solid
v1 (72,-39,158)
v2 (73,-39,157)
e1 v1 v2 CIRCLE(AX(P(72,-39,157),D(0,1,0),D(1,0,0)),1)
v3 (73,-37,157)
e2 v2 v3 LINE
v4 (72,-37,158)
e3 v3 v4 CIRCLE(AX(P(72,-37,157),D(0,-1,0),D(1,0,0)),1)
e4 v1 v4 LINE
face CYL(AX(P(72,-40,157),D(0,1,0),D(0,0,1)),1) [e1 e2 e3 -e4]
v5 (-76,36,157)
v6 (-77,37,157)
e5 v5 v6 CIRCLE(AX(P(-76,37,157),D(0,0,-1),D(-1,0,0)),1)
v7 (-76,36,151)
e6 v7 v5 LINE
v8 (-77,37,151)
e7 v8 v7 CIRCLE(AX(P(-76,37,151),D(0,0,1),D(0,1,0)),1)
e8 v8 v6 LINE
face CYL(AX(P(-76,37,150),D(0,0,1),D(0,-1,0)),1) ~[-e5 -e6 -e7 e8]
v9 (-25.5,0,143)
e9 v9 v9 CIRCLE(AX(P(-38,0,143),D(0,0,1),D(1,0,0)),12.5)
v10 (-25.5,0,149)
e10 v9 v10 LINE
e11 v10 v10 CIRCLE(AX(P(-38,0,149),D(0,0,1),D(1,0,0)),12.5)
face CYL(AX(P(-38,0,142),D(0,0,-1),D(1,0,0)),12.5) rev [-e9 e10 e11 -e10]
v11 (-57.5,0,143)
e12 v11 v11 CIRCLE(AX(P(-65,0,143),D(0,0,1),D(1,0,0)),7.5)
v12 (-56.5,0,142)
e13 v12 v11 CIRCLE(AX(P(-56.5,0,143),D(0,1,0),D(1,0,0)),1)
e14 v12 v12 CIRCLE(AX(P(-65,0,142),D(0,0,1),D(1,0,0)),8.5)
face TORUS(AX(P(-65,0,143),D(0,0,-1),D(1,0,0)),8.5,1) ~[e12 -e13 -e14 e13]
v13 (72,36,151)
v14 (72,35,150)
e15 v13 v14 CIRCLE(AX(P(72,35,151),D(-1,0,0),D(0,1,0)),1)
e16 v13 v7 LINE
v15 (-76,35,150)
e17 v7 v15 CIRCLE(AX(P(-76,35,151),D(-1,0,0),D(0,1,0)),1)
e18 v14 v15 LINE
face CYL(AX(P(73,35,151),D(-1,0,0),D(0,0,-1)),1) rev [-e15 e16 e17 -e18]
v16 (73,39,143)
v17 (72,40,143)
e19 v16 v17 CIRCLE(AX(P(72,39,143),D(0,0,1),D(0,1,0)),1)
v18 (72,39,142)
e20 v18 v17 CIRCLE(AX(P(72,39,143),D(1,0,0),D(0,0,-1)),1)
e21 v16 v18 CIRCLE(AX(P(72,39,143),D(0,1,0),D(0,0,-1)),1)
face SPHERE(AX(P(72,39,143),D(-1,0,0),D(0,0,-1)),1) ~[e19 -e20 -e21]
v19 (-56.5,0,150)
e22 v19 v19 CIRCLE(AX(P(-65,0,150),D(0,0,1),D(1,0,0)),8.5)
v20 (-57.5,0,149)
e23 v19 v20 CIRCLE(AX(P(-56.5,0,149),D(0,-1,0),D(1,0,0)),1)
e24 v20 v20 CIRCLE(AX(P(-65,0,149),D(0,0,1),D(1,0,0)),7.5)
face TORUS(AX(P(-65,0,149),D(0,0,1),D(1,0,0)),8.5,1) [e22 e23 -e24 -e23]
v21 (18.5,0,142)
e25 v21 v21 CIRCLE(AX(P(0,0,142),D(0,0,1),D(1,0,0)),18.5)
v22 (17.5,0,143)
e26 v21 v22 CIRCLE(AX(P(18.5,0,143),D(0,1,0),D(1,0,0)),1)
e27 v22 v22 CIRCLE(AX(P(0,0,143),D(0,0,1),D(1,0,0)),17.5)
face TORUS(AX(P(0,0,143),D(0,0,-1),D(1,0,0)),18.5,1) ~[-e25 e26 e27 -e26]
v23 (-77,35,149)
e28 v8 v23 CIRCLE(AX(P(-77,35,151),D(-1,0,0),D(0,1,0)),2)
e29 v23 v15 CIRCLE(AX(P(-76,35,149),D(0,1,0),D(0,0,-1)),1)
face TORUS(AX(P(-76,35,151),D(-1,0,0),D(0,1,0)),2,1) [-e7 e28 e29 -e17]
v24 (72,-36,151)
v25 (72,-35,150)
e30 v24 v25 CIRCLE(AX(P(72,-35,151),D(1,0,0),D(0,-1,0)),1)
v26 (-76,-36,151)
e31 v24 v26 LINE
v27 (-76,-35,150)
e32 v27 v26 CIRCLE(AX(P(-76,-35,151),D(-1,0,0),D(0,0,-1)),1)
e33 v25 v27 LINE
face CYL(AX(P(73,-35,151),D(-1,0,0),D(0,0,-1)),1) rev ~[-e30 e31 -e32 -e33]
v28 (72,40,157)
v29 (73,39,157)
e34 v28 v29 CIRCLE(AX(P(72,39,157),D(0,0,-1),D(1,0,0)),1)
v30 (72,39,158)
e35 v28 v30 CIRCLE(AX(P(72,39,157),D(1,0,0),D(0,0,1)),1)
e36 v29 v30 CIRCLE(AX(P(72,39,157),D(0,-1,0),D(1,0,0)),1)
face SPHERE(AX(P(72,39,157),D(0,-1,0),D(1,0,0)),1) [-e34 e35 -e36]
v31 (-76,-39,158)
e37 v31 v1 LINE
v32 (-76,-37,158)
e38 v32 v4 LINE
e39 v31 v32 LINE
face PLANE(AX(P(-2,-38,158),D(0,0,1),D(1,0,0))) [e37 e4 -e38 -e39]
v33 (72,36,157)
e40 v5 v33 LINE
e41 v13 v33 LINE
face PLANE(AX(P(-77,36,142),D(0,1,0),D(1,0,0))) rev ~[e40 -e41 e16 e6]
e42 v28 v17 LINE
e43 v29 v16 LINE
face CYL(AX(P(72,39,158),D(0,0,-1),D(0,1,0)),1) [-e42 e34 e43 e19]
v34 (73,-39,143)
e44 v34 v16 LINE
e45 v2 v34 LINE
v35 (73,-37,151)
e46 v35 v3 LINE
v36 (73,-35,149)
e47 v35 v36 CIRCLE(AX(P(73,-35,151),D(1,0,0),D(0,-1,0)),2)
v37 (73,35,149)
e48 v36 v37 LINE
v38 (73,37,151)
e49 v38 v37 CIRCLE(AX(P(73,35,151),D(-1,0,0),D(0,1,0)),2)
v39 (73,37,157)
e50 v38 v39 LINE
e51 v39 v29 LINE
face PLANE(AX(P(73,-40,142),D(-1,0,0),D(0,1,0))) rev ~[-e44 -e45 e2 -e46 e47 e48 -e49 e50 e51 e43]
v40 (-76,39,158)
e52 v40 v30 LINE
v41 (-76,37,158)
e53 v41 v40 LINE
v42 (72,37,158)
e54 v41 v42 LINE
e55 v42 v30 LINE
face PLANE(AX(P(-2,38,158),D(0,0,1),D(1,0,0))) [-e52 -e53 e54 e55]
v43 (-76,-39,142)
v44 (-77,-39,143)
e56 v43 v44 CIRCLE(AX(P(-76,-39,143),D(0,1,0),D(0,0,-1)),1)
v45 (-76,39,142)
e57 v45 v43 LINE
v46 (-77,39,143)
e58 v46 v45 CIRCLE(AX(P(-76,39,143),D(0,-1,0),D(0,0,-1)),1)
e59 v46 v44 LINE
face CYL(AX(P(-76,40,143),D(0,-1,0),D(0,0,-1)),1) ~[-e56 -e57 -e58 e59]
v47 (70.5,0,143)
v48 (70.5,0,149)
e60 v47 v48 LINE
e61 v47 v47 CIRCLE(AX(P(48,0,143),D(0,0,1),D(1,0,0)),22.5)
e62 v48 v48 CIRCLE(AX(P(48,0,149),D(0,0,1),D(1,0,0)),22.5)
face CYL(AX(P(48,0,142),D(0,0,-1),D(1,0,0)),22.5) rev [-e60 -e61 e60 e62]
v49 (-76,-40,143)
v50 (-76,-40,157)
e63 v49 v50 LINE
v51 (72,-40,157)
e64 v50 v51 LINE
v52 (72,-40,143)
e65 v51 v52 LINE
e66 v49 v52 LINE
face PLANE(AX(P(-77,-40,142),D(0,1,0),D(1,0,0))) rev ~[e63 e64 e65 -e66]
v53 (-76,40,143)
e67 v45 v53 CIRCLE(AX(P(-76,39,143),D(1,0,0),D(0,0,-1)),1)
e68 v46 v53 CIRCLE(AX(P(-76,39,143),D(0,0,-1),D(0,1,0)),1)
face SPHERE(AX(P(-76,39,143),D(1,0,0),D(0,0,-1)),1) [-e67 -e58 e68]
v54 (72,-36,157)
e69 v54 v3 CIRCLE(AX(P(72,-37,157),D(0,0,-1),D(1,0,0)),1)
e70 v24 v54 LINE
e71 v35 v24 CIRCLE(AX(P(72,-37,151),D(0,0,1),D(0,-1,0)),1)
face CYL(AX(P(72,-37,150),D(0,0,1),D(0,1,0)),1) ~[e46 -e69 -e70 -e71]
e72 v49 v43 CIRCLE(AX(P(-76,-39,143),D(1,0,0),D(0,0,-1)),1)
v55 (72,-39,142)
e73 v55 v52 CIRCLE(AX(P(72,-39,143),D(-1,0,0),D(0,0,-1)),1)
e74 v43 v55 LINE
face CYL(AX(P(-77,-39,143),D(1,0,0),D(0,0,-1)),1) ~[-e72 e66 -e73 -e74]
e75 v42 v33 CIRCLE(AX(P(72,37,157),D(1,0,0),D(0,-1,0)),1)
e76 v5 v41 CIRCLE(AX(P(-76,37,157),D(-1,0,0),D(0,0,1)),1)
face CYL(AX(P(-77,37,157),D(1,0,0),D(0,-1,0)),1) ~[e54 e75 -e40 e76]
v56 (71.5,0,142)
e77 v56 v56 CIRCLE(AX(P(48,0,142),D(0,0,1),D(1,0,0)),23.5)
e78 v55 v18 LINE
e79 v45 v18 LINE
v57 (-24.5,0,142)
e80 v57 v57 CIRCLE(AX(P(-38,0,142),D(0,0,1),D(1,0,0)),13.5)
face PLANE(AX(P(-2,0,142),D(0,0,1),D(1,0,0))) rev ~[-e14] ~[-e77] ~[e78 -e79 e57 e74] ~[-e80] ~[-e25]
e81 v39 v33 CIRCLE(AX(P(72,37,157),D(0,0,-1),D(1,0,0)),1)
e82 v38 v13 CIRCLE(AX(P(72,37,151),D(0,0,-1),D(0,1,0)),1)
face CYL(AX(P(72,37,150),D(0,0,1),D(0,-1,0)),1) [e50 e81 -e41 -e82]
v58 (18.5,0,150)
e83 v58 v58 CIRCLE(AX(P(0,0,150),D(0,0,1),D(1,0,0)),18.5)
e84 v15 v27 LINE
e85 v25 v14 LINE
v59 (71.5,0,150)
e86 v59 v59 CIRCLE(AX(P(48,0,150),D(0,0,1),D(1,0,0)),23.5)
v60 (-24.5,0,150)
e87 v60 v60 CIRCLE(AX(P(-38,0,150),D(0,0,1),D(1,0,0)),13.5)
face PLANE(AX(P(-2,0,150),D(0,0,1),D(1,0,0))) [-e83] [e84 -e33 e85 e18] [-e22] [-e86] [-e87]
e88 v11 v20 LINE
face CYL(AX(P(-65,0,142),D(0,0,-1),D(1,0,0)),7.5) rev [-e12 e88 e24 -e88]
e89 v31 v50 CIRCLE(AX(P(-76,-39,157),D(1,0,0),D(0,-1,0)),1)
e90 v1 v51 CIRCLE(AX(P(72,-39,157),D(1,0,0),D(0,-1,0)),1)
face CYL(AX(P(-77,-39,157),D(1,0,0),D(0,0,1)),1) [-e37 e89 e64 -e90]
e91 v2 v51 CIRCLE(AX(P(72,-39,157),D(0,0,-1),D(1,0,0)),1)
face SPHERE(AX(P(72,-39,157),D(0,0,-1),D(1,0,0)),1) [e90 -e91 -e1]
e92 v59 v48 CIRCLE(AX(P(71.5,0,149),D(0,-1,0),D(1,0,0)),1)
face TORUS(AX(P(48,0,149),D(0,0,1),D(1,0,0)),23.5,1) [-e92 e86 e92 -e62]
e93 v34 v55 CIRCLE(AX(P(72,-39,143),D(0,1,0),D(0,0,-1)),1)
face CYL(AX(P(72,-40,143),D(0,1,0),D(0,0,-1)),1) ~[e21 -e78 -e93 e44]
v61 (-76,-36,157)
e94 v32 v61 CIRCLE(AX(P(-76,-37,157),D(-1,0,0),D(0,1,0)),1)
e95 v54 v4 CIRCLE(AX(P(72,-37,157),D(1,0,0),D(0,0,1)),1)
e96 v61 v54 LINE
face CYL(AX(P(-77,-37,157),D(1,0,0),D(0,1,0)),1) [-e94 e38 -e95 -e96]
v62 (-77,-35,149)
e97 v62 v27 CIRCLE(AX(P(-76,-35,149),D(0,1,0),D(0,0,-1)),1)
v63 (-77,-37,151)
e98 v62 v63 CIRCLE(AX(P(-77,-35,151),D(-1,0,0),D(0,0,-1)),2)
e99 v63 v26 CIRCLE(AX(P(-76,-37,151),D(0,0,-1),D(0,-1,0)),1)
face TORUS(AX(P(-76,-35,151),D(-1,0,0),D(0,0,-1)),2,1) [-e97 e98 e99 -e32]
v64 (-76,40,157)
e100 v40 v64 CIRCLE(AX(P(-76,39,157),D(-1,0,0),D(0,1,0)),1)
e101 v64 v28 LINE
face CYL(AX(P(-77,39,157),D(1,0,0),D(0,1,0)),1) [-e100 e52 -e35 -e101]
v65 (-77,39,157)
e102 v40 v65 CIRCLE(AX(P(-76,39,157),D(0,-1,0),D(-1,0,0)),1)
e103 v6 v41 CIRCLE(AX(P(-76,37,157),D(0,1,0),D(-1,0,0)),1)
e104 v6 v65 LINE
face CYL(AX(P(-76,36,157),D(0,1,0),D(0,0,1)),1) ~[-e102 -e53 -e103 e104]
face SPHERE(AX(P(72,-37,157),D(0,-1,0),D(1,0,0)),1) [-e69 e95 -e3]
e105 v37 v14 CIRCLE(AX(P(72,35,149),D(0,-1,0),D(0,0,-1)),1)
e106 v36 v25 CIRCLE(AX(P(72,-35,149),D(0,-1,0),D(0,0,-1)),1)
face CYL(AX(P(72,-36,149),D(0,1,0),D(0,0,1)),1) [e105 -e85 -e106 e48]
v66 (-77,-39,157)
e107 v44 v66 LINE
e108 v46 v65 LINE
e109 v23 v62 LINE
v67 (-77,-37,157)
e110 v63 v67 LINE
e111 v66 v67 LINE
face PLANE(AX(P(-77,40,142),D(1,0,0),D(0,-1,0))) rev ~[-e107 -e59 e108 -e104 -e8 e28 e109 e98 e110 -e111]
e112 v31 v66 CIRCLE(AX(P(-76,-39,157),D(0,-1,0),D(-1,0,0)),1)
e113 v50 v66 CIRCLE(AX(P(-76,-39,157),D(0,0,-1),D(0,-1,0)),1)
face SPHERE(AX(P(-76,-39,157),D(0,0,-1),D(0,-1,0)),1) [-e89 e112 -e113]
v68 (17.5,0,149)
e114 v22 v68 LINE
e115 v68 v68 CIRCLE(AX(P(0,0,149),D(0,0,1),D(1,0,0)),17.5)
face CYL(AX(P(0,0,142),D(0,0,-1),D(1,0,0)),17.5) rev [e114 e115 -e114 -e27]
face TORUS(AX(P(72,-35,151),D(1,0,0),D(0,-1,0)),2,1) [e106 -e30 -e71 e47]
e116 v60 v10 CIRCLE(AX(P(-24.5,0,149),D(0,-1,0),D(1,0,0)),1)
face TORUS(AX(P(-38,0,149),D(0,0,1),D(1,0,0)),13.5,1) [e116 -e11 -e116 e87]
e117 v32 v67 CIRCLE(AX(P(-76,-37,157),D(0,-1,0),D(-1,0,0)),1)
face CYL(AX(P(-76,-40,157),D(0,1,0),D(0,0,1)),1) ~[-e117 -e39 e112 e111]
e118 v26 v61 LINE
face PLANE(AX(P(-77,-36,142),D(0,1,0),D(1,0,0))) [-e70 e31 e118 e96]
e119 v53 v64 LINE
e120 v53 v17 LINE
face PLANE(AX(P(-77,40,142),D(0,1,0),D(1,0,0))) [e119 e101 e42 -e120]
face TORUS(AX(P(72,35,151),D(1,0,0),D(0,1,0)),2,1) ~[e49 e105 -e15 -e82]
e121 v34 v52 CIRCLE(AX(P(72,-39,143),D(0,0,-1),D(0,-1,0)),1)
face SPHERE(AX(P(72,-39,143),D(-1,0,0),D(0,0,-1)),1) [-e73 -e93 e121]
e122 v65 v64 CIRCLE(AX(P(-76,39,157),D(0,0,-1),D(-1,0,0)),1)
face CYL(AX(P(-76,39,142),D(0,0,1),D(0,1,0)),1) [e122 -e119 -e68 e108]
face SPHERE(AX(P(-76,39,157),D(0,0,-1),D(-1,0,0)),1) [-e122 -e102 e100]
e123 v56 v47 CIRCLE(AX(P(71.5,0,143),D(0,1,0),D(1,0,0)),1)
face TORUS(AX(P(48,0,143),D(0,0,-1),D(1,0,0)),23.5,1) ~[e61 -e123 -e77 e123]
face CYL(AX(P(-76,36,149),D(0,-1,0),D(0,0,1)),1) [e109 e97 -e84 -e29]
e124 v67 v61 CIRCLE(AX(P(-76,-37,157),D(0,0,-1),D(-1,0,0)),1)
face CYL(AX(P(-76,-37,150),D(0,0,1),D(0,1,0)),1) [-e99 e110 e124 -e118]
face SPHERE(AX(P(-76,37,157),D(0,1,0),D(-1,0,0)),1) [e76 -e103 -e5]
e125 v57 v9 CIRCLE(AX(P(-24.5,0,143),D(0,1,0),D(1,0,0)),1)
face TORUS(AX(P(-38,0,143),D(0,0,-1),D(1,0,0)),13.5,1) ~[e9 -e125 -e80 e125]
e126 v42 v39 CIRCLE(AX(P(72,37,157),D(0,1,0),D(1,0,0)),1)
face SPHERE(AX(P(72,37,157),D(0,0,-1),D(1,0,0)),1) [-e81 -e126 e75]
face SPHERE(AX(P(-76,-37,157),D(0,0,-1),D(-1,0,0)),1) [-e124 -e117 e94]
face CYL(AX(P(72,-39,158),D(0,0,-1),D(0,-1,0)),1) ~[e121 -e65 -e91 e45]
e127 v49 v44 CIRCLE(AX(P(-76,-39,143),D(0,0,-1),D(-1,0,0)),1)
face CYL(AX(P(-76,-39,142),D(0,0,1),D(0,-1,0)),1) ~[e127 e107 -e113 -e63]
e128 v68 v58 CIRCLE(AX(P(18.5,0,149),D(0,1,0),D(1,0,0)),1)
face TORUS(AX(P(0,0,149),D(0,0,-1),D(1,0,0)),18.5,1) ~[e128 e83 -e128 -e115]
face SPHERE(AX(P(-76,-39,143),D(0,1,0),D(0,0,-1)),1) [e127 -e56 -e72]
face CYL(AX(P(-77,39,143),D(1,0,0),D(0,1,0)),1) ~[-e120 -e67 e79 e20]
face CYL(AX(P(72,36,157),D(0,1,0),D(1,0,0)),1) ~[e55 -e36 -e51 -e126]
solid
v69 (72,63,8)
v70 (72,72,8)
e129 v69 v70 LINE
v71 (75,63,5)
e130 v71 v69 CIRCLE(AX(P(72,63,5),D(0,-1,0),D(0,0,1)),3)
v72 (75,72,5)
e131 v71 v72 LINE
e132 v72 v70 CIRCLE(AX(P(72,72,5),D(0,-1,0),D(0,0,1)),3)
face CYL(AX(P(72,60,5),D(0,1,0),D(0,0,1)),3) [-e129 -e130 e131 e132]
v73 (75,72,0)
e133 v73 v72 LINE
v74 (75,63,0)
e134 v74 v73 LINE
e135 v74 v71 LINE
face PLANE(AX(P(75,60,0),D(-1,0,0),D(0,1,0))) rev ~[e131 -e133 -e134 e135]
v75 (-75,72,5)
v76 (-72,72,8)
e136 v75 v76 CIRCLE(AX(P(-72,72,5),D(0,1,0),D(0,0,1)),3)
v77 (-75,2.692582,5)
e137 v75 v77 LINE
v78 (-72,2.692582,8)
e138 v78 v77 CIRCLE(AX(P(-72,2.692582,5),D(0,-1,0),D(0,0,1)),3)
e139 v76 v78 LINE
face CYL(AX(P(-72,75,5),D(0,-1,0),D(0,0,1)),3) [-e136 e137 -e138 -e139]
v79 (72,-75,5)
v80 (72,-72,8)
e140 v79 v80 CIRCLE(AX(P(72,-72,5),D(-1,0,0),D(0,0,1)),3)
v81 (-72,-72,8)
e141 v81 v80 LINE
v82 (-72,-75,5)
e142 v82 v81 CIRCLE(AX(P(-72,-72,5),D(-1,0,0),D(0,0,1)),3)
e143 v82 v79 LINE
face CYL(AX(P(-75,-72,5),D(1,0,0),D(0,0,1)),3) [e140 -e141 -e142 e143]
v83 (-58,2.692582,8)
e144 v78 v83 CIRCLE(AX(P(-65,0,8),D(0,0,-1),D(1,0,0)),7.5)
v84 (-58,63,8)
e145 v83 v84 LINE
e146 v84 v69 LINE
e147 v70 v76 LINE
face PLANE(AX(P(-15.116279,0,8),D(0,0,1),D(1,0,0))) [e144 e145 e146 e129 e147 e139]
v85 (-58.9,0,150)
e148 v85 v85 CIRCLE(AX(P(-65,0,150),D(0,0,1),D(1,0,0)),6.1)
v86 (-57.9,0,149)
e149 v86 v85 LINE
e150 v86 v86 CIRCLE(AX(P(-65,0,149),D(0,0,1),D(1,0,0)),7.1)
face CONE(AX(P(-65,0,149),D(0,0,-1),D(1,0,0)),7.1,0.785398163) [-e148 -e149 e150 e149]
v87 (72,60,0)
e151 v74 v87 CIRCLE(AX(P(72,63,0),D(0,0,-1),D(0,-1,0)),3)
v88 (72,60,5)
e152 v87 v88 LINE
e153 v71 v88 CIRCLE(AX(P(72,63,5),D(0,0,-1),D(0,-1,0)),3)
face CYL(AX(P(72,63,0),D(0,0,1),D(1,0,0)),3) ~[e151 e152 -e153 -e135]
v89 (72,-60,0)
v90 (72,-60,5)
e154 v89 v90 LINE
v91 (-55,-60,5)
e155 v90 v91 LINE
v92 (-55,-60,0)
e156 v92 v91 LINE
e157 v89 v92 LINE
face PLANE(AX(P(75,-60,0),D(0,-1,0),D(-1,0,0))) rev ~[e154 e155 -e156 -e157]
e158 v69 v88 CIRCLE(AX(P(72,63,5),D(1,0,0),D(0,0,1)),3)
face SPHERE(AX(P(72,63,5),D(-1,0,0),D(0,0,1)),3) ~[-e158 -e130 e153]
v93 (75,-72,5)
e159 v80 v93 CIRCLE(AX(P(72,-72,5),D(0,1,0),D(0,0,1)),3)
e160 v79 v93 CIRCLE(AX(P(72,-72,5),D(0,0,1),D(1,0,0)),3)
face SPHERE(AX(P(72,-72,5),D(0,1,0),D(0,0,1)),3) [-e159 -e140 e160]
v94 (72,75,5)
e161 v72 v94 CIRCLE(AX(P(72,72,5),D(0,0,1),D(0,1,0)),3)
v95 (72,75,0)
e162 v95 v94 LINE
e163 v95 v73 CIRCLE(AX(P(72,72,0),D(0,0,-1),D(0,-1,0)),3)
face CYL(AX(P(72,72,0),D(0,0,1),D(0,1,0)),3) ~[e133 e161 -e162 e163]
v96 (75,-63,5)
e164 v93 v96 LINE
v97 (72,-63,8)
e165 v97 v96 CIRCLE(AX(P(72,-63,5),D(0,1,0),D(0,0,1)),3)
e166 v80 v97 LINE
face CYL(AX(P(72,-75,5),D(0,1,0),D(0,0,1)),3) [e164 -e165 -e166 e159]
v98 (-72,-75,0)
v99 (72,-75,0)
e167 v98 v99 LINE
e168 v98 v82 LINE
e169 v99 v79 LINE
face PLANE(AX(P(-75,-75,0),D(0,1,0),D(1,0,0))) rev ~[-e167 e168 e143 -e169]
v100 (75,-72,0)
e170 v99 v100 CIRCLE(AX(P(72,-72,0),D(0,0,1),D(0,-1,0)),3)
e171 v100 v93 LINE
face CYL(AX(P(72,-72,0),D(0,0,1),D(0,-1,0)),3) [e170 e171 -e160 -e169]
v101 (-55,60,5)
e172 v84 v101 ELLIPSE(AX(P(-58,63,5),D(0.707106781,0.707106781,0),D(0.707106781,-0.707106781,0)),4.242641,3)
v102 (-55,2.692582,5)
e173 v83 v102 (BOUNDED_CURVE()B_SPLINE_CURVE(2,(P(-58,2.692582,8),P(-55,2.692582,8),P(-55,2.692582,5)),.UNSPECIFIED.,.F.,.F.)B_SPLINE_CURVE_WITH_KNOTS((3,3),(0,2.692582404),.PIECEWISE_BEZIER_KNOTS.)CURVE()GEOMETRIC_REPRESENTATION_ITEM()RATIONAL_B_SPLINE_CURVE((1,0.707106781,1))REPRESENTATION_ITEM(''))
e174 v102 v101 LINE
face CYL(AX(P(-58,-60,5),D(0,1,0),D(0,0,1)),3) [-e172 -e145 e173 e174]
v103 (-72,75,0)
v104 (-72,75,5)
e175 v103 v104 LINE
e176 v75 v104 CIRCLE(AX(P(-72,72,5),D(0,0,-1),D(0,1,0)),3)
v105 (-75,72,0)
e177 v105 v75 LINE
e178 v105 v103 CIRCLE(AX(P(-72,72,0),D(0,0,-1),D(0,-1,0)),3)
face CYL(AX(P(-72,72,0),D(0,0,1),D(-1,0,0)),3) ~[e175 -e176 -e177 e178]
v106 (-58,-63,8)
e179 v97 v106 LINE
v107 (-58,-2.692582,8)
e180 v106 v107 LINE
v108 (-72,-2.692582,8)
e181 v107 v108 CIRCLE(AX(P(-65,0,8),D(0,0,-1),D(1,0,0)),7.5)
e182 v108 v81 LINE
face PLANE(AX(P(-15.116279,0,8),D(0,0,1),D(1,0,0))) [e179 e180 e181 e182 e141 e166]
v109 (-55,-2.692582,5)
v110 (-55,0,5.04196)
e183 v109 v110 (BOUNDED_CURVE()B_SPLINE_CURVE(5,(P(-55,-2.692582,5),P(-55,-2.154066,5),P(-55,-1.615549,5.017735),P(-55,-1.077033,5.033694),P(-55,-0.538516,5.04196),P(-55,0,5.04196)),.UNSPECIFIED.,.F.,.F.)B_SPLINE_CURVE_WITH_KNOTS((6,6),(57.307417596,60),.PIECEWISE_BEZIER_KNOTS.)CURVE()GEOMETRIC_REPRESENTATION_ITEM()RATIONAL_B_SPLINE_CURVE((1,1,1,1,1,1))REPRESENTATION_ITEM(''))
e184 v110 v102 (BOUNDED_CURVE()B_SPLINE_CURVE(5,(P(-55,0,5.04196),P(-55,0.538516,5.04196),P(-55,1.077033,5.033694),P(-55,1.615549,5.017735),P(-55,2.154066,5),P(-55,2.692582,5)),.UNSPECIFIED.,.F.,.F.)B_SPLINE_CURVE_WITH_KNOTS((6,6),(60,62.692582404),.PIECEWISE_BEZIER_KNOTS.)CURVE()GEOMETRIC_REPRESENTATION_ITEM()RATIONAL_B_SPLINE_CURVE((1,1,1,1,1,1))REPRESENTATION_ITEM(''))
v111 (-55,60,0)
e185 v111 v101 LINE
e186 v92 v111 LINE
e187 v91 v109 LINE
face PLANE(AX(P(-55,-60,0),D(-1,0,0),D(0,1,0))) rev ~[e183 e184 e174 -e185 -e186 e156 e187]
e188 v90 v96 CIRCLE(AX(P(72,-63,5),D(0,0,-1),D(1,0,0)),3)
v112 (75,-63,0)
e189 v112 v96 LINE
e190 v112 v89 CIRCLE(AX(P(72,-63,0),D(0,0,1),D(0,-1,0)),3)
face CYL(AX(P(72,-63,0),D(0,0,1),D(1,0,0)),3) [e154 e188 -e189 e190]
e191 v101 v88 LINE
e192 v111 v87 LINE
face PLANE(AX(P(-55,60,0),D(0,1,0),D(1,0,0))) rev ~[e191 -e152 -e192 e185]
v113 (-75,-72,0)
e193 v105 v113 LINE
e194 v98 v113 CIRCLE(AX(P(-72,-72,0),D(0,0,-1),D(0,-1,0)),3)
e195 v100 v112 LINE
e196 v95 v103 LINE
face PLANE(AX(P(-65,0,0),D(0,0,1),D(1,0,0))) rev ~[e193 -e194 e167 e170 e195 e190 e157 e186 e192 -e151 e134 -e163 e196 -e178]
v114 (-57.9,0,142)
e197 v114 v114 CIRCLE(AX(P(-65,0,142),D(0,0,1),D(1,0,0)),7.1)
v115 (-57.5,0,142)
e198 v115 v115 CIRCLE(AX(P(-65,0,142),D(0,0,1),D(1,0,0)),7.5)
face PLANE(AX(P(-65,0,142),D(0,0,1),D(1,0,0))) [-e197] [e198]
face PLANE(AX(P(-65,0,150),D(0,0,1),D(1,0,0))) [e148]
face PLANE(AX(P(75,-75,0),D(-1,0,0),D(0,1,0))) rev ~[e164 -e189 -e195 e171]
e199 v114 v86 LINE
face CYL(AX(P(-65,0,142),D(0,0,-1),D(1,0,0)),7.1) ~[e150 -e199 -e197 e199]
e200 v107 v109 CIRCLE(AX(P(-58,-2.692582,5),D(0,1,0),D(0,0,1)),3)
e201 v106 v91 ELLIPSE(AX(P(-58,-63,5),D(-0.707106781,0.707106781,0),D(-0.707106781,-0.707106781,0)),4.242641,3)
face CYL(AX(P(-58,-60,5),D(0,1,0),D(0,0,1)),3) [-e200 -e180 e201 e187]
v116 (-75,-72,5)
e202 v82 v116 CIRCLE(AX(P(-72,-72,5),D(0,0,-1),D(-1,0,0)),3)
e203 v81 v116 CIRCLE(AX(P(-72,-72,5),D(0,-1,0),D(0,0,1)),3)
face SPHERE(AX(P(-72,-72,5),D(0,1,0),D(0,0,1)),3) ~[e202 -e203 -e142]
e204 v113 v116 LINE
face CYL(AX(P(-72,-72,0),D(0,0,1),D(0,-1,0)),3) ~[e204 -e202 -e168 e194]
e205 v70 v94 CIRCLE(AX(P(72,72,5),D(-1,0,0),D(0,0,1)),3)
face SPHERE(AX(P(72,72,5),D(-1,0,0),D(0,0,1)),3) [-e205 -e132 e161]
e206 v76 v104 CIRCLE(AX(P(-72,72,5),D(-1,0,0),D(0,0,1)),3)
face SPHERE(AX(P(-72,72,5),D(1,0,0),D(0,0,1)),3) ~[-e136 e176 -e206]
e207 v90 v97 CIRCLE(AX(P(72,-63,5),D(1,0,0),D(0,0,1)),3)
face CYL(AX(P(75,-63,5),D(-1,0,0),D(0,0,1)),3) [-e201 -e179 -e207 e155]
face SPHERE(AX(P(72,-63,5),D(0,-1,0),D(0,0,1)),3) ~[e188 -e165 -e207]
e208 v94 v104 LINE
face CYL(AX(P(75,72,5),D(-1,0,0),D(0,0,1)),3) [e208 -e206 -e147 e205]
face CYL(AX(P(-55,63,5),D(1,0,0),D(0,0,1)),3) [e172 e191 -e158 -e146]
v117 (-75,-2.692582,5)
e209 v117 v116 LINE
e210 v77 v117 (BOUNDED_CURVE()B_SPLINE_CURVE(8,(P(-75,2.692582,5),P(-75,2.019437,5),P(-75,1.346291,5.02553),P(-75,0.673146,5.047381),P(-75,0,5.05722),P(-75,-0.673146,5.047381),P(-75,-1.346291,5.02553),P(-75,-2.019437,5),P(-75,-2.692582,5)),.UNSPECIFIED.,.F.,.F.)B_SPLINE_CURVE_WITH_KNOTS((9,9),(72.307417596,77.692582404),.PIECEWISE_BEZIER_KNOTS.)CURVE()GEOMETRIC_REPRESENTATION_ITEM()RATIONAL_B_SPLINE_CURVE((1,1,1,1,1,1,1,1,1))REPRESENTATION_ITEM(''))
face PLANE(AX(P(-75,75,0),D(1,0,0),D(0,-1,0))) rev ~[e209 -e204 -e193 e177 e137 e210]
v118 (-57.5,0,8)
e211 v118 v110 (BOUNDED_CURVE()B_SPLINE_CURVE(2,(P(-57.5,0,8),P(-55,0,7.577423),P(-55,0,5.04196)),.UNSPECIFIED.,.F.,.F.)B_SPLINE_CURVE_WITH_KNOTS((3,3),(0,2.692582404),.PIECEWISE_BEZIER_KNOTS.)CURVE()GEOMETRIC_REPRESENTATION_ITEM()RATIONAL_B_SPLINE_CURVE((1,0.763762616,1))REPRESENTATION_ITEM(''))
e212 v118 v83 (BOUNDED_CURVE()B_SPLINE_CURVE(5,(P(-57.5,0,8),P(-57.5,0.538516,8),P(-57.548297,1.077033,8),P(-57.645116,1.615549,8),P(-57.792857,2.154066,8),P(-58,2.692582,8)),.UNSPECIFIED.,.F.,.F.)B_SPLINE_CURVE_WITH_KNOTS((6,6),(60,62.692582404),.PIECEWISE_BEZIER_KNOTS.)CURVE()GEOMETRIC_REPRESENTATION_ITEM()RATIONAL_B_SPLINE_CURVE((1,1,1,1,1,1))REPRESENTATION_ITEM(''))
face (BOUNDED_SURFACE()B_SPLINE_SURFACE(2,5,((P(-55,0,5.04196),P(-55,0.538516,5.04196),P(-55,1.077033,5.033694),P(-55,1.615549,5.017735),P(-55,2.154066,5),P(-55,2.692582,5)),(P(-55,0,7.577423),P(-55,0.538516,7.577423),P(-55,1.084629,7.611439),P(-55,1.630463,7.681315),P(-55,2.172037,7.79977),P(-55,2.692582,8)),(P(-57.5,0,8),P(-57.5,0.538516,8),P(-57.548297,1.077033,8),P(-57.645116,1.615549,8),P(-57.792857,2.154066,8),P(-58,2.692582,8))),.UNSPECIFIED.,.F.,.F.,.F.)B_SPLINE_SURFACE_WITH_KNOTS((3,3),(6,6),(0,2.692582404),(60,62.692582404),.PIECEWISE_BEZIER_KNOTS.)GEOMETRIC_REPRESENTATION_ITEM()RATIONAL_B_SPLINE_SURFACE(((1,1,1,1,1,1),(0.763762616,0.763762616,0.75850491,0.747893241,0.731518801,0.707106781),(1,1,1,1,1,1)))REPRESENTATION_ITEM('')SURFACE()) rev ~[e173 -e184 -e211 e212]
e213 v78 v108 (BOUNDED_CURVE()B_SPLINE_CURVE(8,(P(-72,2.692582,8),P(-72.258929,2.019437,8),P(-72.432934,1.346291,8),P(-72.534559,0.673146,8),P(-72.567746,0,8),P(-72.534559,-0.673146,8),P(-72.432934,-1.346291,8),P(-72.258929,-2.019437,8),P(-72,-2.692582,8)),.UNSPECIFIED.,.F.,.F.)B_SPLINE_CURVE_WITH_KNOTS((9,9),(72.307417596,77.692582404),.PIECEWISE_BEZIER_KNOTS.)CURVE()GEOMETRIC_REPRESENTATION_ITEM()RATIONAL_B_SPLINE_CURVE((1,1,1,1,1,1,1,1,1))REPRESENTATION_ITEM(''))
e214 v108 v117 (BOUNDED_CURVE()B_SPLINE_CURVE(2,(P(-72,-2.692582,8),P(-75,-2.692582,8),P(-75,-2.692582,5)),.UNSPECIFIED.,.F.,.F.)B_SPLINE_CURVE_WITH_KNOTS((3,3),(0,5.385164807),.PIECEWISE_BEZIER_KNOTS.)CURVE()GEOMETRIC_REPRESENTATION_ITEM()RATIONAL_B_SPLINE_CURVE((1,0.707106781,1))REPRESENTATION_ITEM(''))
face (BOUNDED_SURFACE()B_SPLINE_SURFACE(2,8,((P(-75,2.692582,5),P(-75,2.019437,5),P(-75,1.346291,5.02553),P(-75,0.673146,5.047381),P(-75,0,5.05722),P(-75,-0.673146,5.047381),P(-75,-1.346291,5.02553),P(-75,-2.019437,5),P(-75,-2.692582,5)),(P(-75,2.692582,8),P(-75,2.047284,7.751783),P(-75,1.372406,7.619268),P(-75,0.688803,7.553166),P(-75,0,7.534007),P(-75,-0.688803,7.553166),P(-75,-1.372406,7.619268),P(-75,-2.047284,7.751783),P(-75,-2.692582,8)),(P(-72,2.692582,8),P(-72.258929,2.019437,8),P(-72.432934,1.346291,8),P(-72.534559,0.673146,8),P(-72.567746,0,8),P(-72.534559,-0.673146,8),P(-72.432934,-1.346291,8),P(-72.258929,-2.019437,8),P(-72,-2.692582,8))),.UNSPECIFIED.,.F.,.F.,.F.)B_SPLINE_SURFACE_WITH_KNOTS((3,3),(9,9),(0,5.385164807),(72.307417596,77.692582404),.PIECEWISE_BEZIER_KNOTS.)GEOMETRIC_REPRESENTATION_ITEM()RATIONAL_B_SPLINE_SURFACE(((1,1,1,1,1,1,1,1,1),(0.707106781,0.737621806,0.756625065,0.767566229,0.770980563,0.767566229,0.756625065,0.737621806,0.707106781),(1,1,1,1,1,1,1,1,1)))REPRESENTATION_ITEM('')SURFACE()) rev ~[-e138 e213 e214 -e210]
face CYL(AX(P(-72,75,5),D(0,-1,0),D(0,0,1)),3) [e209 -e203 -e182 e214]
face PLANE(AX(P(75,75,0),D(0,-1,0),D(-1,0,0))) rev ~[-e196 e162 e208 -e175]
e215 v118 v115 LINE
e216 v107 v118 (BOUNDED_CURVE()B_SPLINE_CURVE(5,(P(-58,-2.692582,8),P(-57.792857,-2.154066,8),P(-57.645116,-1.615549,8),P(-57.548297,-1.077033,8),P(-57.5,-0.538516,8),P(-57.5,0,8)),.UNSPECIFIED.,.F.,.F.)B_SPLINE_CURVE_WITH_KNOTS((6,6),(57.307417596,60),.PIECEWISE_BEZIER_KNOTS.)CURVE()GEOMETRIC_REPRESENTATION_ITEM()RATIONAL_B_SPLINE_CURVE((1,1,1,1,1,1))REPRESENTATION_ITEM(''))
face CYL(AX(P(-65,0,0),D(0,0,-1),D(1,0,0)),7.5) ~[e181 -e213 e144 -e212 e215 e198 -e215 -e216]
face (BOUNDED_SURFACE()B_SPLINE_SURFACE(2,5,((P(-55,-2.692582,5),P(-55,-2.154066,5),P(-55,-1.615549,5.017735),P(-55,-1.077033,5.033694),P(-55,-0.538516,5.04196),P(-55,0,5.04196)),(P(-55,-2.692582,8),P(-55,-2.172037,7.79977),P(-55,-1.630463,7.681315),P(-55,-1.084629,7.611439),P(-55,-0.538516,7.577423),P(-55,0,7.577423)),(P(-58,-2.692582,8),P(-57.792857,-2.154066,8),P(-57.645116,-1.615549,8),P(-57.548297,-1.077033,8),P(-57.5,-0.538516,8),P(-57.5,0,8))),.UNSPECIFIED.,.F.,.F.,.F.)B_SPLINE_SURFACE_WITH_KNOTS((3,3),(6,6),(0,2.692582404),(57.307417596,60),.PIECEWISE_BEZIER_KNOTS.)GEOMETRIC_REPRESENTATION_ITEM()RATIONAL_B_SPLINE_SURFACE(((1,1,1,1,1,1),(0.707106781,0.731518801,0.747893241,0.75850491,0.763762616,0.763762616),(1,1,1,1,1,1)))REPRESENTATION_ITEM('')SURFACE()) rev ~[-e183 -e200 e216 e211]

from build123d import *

# Parameters (mm, degrees)
F2_R      = 7.5
F3_DEPTH  = 8
F4_DEPTH  = 142
F5_R      = 7.1
F6_DEPTH  = 8
F7_SIZE   = 1
F8_R      = 3
F9_W      = 150
F9_H      = 72
F9_R      = 7.5
F9_R_2    = 12.5
F9_R_3    = 17.5
F9_R_4    = 22.5
F9_H_2    = 4
F10_DEPTH = 8
F11_DEPTH = 16
F12_R     = 1


with BuildPart() as f3:
    # F2 (on Top) → F3 (new body)
    with BuildSketch(Plane.XY):
        Polygon((-75, -75), (75, -75), (75, -60), (-55, -60), (-55, 60), (75, 60), (75, 75), (-75, 75), align=None)
        with Locations((-65, 0)):
            Circle(F2_R, mode=Mode.SUBTRACT)
        with Locations((-65, 0)):
            Circle(F2_R)
    extrude(amount=F3_DEPTH)

    # F2 (on Top) → F4 (join)
    with BuildSketch(Plane.XY):
        with Locations((-65, 0)):
            Circle(F2_R)
    extrude(amount=F4_DEPTH)

    # F5 (on face) → F6 (join)
    with BuildSketch(Plane.XY.offset(142)):
        with Locations((-65, 0)):
            Circle(F5_R)
    extrude(amount=F6_DEPTH)

    # F7
    f7_edges = [f3.edges().sort_by_distance(p)[0] for p in [
        (-72.1, 0, 150),
    ]]
    chamfer(f7_edges, length=F7_SIZE)

    # F8
    f8_edges = [f3.edges().sort_by_distance(p)[0] for p in [
        (10, 60, 8),
        (0, 75, 8),
        (-75, 0, 8),
        (75, 67.5, 8),
        (75, -67.5, 8),
        (10, -60, 8),
        (0, -75, 8),
        (-55, 0, 8),
        (75, 60, 4),
        (75, 75, 4),
        (75, -60, 4),
        (75, -75, 4),
        (-75, -75, 4),
        (-75, 75, 4),
    ]]
    fillet(f8_edges, radius=F8_R)


with BuildPart() as f10:
    # F9 (on face) → F10 (new body, through all)
    with BuildSketch(Plane.XY.offset(142)):
        with Locations((-2, 0)):
            Rectangle(F9_W, F9_H)
        with Locations((-65, 0)):
            Circle(F9_R, mode=Mode.SUBTRACT)
        with Locations((-38, 0)):
            Circle(F9_R_2, mode=Mode.SUBTRACT)
        Circle(F9_R_3, mode=Mode.SUBTRACT)
        with Locations((48, 0)):
            Circle(F9_R_4, mode=Mode.SUBTRACT)
        with Locations((-2, 38)):
            Rectangle(F9_W, F9_H_2)
        with Locations((-2, -38)):
            Rectangle(F9_W, F9_H_2)
    extrude(amount=F10_DEPTH)

    # F9 (on face) → F11 (join)
    with BuildSketch(Plane.XY.offset(142)):
        with Locations((-2, 38)):
            Rectangle(F9_W, F9_H_2)
        with Locations((-2, -38)):
            Rectangle(F9_W, F9_H_2)
    extrude(amount=F11_DEPTH)

    # F12
    f12_edges = [f10.edges().sort_by_distance(p)[0] for p in [
        (73, 0, 150),
        (-2, -36, 150),
        (-77, 0, 150),
        (-2, 36, 150),
        (-72.5, 0, 150),
        (-50.5, 0, 150),
        (-17.5, 0, 150),
        (25.5, 0, 150),
        (-2, 40, 142),
        (-77, 0, 142),
        (-2, -40, 142),
        (73, 0, 142),
        (25.5, 0, 142),
        (-72.5, 0, 142),
        (-50.5, 0, 142),
        (-17.5, 0, 142),
        (73, -40, 150),
        (73, -38, 158),
        (73, -36, 154),
        (73, 36, 154),
        (73, 38, 158),
        (73, 40, 150),
        (-77, -40, 150),
        (-2, -40, 158),
        (-77, 40, 150),
        (-77, 38, 158),
        (-77, 36, 154),
        (-77, -36, 154),
        (-77, -38, 158),
        (-2, 40, 158),
        (-2, -36, 158),
        (-2, 36, 158),
    ]]
    fillet(f12_edges, radius=F12_R)


solid = Compound([f3.part, f10.part])
